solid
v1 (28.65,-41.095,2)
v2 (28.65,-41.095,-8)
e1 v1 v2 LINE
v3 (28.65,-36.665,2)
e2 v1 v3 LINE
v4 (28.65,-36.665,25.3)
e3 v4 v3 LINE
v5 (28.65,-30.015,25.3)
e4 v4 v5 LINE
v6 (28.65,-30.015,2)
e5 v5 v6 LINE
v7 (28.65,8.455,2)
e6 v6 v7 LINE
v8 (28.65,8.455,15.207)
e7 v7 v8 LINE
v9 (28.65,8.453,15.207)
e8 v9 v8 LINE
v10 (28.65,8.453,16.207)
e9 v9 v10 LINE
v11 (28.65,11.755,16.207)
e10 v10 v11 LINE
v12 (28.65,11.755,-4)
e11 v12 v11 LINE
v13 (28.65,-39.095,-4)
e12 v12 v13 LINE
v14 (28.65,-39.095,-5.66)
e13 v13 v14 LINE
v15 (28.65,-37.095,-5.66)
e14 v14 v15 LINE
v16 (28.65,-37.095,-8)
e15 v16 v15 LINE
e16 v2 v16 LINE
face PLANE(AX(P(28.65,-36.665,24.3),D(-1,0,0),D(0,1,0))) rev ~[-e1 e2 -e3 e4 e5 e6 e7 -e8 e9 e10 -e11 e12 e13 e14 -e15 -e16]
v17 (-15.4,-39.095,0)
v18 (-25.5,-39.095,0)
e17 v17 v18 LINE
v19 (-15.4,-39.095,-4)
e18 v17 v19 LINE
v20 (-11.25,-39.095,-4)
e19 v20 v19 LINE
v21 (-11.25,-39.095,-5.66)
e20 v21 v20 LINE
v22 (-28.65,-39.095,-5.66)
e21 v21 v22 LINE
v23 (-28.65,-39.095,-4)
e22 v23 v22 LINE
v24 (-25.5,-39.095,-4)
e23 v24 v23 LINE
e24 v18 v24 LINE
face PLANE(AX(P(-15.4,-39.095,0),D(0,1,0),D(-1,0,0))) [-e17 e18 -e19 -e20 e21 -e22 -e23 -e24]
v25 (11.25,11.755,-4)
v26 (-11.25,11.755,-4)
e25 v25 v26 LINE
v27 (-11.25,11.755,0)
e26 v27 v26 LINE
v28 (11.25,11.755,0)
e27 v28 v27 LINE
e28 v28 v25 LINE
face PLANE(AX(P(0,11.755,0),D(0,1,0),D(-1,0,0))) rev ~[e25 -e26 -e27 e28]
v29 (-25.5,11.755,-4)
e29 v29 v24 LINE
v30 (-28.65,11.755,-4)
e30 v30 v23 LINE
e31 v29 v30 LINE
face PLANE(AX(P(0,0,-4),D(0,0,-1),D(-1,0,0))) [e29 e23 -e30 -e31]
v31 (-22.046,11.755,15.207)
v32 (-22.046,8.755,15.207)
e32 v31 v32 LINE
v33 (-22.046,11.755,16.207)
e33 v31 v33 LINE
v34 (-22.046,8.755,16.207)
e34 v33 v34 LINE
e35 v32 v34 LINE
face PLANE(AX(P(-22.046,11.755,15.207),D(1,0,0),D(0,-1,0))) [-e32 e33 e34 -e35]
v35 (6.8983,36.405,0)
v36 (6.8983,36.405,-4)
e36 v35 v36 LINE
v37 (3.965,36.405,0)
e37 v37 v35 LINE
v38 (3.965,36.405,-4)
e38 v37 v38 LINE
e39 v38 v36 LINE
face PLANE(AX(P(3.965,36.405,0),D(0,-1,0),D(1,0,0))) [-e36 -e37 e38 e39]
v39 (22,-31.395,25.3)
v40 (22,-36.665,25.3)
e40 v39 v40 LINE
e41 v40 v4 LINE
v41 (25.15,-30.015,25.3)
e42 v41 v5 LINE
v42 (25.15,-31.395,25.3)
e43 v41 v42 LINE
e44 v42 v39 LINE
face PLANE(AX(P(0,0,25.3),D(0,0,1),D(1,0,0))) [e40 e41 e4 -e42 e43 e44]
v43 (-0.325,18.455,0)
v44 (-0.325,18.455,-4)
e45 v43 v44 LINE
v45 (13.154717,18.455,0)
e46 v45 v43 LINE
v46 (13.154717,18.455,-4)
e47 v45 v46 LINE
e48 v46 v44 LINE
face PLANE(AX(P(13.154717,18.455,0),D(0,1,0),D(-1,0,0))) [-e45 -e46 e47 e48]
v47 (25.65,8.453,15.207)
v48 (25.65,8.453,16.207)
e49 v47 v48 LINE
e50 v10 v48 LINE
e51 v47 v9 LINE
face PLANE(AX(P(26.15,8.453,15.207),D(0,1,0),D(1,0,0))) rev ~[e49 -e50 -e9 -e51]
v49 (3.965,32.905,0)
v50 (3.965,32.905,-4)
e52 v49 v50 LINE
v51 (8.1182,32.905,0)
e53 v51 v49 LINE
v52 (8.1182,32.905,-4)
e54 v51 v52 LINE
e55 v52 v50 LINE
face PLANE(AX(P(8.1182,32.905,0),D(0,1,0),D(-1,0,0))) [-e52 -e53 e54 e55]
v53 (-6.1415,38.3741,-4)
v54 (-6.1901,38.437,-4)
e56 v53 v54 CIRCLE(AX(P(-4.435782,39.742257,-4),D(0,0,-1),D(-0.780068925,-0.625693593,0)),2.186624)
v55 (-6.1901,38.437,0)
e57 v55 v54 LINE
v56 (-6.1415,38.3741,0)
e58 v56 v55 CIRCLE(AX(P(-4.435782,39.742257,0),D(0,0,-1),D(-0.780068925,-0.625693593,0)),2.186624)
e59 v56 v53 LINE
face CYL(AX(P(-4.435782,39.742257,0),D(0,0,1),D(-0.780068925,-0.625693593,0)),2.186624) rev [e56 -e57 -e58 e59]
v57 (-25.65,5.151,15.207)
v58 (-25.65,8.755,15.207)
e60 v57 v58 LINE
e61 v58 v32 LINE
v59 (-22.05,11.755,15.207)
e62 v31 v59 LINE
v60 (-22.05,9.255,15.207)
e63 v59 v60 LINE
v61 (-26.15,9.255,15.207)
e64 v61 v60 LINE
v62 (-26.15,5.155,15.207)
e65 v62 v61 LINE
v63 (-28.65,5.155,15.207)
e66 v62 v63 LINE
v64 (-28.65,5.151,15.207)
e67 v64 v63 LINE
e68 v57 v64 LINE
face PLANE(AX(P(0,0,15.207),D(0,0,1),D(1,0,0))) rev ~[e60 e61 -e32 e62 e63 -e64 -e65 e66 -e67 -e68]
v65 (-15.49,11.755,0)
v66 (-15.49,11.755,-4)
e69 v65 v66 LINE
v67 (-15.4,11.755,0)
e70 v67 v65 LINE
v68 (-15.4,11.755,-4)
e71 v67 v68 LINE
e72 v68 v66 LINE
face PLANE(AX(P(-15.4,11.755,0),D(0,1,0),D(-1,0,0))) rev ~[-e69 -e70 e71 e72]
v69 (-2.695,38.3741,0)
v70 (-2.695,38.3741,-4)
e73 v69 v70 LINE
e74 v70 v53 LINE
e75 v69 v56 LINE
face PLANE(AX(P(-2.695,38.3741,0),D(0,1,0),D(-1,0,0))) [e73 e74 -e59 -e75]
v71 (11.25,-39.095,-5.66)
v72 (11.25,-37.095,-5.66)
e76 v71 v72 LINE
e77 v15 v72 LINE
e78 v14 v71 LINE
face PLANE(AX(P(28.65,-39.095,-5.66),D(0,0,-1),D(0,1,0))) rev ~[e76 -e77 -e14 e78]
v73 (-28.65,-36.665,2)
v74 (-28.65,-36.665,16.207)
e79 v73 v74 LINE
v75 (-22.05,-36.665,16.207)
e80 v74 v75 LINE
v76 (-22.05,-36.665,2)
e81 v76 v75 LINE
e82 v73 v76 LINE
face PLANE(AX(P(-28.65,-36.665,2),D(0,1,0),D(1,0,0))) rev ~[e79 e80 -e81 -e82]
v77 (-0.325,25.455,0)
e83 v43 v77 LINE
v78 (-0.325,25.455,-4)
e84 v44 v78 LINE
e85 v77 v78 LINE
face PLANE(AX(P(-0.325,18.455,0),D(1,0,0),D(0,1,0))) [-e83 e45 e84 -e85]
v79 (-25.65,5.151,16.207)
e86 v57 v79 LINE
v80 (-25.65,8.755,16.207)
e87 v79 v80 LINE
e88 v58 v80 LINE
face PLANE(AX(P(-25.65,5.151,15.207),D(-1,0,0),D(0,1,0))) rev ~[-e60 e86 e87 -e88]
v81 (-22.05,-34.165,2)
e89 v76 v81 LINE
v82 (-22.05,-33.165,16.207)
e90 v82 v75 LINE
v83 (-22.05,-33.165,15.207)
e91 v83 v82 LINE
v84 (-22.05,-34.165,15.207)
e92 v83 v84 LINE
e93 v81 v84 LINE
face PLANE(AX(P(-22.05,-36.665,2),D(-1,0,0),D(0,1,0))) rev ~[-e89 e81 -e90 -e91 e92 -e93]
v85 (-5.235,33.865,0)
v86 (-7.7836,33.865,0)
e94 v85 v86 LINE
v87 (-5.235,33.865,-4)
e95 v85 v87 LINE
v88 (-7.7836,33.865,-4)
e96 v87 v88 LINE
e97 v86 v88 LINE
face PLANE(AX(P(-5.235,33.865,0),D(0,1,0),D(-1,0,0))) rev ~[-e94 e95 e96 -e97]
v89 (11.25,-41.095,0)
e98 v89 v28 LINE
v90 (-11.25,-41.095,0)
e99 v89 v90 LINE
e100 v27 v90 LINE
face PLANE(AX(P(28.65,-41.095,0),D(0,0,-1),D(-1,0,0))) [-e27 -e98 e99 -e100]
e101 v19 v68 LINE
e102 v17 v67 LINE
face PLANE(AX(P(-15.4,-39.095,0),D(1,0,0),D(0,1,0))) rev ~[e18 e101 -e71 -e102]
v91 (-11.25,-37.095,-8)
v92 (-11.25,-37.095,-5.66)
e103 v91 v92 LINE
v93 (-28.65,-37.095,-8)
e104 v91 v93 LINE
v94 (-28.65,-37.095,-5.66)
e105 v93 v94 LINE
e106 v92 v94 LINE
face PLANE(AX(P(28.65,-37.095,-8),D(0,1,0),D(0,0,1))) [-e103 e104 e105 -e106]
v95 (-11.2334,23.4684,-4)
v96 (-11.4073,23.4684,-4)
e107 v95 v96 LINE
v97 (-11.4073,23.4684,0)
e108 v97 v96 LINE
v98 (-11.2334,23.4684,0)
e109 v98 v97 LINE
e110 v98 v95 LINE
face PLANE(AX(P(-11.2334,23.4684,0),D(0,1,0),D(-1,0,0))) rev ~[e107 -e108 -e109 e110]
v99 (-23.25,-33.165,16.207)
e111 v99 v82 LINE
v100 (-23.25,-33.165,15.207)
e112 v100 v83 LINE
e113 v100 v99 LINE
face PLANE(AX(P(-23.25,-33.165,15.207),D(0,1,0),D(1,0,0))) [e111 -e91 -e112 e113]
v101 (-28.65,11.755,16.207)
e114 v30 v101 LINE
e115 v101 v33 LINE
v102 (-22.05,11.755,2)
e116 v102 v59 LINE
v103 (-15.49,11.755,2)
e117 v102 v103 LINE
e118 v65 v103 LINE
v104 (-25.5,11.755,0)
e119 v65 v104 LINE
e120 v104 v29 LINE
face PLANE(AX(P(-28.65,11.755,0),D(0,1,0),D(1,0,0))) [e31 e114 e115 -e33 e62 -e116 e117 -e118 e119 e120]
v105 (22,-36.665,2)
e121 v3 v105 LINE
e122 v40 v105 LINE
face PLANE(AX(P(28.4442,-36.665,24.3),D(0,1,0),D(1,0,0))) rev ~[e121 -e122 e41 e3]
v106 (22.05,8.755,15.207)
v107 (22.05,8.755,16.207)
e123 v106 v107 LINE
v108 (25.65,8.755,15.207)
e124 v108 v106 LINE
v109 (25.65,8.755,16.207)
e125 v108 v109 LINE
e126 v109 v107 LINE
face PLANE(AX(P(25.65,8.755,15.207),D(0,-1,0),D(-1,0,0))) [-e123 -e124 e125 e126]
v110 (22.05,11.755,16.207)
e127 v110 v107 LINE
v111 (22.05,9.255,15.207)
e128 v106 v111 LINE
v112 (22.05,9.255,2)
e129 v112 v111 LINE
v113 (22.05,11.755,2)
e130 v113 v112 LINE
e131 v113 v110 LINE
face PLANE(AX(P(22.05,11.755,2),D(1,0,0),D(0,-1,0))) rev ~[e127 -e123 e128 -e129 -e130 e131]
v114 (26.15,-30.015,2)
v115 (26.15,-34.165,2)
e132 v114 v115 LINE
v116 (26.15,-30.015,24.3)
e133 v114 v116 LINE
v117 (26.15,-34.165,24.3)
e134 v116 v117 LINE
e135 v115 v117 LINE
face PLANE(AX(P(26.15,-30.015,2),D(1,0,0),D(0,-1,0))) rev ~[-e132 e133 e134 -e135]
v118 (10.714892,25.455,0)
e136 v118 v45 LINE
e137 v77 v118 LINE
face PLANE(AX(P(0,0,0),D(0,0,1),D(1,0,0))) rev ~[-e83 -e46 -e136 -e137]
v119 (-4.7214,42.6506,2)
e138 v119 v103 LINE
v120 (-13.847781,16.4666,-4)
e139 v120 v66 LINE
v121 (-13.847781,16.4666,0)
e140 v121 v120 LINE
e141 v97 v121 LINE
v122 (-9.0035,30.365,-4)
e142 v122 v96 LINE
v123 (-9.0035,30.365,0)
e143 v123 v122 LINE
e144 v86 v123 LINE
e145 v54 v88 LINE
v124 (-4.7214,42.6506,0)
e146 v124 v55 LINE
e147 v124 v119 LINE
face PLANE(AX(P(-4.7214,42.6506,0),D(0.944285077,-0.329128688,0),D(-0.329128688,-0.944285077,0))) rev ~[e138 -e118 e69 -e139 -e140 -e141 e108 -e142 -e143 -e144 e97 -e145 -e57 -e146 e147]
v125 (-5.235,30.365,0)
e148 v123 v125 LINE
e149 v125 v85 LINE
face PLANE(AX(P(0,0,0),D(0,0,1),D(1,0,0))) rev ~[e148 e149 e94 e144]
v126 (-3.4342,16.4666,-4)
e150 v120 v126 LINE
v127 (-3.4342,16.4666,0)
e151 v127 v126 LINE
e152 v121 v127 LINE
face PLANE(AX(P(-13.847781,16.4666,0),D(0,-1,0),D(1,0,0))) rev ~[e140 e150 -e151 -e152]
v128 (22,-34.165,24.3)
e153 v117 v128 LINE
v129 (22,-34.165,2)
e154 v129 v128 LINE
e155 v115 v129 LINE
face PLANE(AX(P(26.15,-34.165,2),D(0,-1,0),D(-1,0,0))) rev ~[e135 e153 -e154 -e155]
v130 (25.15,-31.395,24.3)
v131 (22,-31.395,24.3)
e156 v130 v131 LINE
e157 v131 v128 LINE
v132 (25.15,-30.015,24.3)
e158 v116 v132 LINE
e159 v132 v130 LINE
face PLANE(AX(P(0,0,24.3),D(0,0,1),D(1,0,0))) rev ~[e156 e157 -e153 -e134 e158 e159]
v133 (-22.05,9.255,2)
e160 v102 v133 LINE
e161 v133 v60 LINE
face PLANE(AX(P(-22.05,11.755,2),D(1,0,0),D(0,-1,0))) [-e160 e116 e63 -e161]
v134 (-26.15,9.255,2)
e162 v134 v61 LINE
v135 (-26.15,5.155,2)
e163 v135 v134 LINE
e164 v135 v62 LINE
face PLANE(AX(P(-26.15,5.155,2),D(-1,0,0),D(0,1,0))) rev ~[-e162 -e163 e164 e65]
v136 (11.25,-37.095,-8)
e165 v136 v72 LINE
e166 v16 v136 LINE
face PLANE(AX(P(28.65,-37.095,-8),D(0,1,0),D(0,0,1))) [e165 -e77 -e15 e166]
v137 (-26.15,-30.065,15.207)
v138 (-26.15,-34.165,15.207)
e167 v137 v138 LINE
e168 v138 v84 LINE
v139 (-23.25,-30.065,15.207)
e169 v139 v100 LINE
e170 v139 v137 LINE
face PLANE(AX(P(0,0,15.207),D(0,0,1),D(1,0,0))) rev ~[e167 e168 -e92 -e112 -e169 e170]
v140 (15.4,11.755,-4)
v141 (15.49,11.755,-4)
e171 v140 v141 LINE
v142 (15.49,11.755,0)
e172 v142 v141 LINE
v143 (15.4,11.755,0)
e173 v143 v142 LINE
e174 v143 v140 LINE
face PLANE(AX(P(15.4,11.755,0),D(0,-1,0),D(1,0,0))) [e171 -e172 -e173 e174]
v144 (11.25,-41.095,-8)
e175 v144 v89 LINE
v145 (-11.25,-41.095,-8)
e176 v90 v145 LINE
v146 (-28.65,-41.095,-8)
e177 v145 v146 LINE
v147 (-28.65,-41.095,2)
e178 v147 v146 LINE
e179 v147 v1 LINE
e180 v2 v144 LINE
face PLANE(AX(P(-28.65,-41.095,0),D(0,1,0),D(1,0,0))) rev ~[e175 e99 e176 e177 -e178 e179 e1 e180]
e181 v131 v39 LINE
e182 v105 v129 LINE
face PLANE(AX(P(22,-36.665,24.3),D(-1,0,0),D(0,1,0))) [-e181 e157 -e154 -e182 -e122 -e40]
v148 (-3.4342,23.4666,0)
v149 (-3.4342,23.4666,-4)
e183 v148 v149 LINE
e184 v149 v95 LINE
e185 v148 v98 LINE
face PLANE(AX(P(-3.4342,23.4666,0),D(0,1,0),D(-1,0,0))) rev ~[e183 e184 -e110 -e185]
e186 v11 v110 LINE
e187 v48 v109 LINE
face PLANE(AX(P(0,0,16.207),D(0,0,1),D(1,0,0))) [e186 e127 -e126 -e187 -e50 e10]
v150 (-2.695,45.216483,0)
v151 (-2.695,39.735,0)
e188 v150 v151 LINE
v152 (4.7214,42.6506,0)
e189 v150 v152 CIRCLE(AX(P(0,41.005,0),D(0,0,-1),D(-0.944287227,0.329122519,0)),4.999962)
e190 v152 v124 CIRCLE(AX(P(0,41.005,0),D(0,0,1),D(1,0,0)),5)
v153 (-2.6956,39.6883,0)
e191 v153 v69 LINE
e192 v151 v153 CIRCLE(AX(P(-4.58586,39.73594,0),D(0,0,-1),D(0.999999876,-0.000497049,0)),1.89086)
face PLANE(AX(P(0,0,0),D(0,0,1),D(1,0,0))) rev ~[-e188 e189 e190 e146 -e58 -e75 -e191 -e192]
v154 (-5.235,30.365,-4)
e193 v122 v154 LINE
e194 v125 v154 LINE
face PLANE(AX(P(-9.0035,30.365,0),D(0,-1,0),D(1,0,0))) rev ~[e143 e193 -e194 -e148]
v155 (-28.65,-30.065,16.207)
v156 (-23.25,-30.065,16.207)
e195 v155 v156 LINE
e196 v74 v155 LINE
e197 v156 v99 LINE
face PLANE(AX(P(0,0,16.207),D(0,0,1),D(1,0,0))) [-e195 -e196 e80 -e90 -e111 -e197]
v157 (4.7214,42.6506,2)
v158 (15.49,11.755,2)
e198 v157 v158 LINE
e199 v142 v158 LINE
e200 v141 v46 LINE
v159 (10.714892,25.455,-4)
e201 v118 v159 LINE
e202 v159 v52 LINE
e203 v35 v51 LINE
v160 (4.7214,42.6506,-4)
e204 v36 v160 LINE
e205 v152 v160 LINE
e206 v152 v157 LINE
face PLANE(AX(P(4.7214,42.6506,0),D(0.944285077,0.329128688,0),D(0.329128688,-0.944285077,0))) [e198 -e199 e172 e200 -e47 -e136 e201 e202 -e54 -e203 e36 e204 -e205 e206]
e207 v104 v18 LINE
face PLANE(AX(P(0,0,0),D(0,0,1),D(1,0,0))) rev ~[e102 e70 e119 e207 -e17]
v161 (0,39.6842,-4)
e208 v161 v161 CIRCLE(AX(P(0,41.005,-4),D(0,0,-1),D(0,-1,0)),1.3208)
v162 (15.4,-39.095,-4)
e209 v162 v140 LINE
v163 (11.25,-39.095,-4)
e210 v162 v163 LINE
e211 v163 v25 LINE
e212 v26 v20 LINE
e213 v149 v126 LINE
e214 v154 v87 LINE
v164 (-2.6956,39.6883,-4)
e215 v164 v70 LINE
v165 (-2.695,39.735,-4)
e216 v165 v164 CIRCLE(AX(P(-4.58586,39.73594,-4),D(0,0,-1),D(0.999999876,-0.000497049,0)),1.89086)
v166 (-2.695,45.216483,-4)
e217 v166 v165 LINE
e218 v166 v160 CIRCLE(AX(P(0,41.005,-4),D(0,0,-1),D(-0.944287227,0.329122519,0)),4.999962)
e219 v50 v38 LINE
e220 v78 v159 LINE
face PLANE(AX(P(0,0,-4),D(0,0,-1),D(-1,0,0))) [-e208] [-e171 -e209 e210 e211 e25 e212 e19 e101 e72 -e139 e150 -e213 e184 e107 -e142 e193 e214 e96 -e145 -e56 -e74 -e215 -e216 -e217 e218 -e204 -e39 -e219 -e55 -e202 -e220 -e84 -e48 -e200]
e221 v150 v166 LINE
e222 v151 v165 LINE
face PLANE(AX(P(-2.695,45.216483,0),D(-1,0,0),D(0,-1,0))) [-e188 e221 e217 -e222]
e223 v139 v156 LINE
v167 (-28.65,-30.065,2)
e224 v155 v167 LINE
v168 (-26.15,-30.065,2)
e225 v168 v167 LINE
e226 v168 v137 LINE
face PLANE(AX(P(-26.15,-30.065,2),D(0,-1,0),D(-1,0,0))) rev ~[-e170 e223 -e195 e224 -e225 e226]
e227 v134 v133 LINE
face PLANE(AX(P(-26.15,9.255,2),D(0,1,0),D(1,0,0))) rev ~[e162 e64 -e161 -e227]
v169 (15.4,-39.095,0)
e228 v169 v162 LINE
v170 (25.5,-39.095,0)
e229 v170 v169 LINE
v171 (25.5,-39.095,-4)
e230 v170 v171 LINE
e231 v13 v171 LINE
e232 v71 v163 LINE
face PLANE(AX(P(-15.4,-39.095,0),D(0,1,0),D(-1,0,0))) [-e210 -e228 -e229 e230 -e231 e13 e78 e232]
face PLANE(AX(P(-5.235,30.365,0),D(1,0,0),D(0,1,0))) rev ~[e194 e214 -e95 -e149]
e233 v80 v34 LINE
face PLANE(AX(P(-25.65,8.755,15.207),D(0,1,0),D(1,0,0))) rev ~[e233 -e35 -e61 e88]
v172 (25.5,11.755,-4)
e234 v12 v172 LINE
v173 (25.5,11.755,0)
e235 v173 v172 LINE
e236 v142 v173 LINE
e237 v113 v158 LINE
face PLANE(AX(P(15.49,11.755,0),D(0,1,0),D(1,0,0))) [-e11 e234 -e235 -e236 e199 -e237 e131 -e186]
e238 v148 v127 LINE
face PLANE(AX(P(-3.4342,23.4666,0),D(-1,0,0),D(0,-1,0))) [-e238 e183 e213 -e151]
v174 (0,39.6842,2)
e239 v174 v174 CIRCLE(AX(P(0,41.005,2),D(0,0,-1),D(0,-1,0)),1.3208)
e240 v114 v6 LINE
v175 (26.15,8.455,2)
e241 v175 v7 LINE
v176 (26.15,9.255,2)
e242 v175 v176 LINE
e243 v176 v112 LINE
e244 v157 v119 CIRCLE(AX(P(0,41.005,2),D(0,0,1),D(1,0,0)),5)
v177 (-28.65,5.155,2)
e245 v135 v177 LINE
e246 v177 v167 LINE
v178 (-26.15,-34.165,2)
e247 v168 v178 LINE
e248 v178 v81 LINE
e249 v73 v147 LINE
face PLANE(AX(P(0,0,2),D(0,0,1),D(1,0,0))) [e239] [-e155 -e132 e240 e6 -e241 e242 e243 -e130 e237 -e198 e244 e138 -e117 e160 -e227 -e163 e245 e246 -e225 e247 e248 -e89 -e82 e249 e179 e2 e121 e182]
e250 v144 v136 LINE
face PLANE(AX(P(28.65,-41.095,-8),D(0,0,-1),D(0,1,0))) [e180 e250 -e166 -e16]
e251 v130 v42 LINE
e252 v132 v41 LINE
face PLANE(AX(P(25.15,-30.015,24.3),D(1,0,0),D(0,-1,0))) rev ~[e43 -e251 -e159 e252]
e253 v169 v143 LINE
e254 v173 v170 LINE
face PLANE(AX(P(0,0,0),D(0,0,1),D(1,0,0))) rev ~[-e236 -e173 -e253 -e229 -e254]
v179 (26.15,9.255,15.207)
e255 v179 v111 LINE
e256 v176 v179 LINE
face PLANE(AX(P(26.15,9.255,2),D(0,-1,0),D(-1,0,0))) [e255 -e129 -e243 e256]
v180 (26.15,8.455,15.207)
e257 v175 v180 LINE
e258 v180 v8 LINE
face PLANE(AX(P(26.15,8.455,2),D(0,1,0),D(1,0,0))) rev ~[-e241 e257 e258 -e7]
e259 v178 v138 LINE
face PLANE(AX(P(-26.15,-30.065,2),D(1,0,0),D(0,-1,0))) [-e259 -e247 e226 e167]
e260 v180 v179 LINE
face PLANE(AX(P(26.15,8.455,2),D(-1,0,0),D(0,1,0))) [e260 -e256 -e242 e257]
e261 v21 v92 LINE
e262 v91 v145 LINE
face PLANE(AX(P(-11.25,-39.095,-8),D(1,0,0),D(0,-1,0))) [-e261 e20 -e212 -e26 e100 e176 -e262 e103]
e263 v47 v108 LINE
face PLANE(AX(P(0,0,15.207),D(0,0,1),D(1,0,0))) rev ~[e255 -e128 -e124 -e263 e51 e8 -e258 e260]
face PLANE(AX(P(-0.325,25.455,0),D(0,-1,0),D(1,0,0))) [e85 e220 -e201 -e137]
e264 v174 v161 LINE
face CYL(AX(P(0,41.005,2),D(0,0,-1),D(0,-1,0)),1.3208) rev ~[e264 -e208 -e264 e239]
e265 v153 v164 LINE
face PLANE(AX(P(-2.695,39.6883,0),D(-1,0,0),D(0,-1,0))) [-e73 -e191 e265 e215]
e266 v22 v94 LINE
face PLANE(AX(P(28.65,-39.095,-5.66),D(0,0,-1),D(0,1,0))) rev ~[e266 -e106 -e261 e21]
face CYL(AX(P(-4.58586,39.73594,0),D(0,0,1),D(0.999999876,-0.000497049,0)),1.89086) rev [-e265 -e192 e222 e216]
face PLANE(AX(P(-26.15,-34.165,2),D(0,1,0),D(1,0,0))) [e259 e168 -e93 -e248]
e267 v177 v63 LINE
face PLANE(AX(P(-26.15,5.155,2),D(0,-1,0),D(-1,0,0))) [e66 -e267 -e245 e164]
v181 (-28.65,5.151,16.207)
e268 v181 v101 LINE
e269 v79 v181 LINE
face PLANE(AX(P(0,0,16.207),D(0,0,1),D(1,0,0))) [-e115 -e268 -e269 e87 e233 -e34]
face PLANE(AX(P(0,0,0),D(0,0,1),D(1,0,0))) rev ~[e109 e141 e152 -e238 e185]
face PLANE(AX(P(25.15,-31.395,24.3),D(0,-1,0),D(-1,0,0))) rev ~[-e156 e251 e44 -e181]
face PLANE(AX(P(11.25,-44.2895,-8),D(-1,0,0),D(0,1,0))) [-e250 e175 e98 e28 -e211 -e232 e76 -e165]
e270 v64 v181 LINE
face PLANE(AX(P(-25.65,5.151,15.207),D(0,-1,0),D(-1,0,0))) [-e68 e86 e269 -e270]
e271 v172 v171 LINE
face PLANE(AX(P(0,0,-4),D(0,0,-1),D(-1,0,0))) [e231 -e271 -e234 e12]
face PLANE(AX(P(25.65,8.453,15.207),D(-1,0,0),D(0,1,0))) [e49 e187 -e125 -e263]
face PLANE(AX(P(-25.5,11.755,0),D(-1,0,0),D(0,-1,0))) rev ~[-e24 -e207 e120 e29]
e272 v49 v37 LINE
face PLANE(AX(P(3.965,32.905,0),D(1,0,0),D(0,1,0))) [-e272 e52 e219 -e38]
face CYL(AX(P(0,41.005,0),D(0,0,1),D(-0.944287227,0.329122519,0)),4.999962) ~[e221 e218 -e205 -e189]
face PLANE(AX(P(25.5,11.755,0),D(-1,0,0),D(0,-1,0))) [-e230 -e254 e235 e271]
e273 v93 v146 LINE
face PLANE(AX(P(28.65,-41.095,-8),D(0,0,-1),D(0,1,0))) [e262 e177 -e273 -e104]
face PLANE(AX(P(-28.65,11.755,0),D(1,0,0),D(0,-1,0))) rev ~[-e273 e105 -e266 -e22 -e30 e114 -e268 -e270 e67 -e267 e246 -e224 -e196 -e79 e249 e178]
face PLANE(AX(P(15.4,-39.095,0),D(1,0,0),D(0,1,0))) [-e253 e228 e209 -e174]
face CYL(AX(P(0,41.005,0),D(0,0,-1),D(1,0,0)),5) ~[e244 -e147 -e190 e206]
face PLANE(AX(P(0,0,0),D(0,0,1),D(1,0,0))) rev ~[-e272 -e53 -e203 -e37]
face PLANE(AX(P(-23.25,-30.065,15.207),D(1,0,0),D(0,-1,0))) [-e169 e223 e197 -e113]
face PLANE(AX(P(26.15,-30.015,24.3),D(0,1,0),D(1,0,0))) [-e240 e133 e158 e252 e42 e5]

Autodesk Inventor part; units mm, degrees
ref_plane "YZ Plane" through (0, 0, 0) normal (1, 0, 0) x (0, 1, 0)
ref_plane "XZ Plane" through (0, 0, 0) normal (0, 1, 0) x (-1, 0, 0)
ref_plane "XY Plane" through (0, 0, 0) normal (0, 0, 1) x (1, 0, 0)
sketch "Sketch1" plane through (0, 0, 0) normal (0, 0, 1) x (1, 0, 0)
  line L0 (-28.65, -41.095) -> (28.65, -41.095)
  line L1 (28.65, -41.095) -> (28.65, 11.845)
  line L2 (-28.65, 11.755) -> (-28.65, -41.095)
  line L3 (-28.65, -41.095) -> (28.65, 41.095) construction
  line L4 (28.65, -41.095) -> (-28.65, 41.095) construction
  circle A0 centre (0, 41.005) radius 5
  line L5 (-8.6158, 11.755) -> (12.08, 11.755)
  line L6 (12.08, 11.755) -> (27.305, 11.755)
  line L7 (-8.6158, 11.755) -> (-27.305, 11.755)
  line L8 (-4.7214, 42.6506) -> (-15.49, 11.755)
  line L9 (4.7214, 42.6506) -> (15.49, 11.755)
  line L10 (28.65, -41.095) -> (-28.65, -41.095)
  line L11 (-28.65, -41.095) -> (-28.65, 11.755)
  line L12 (-28.65, 11.755) -> (28.65, 11.755)
  line L13 (28.65, 11.755) -> (28.65, -41.095)
  point P0 (0, 0)
  point P1 (15.49, 11.755)
  point P2 (28.65, -14.625)
  point P3 (28.65, 11.755)
  dimension "d2" = 10
  dimension "d3" = 29.25
  dimension "d26" = 30.98
  dimension "d27" = 15.49
  dimension "d28" = 0
  dimension "d112" = 57.3
  dimension "d113" = 28.65
  dimension "d114" = 82.1
extrude "Extrusion1" add sketch "Sketch1" along normal blind 2
sketch "Sketch2" plane through (0, 0, 0) normal (0, 0, -1) x (-1, 0, 0)
  arc A0 (4.7214, 42.6506) -> (-4.7214, 42.6506) centre (0, 41.005) ccw projected
  line L0 (28.65, -41.095) -> (-28.65, -41.095) projected
  line L1 (-25.5, -41.095) -> (-15.4, -41.095)
  line L2 (-15.4, -41.095) -> (-15.4, 11.755)
  line L3 (-15.4, 11.755) -> (-25.5, 11.755)
  line L4 (-25.5, 11.755) -> (-25.5, -41.095)
  line L5 (-11.25, -41.095) -> (0, -41.095)
  line L6 (0, -41.095) -> (0, 11.755)
  line L7 (0, 11.755) -> (-11.25, 11.755)
  line L8 (-11.25, 11.755) -> (-11.25, -41.095)
  line L9 (-28.65, -41.095) -> (28.65, -41.095)
  line L10 (15.4, -41.095) -> (15.4, 11.755)
  line L11 (15.4, 11.755) -> (25.5, 11.755)
  line L12 (25.5, 11.755) -> (25.5, -41.095)
  line L13 (0, 11.755) -> (11.25, 11.755)
  line L14 (11.25, 11.755) -> (11.25, -41.095)
  line L15 (0.325, 18.455) -> (0.325, 25.455)
  line L16 (3.4342, 23.4666) -> (3.4342, 16.3794)
  line L17 (-8.1182, 32.905) -> (-3.965, 32.905)
  line L18 (-3.965, 32.905) -> (-3.965, 36.405)
  line L19 (-3.965, 36.405) -> (-6.8983, 36.405)
  line L20 (-9.0424, 34.1387) -> (-3.965, 36.405) construction
  line L21 (-3.965, 32.905) -> (-8.76, 36.4299) construction
  line L22 (2.695, 38.3741) -> (6.212, 38.3741)
  line L23 (2.695, 38.3741) -> (6.195, 41.0959) construction
  line L24 (9.0035, 30.365) -> (5.235, 30.365)
  line L25 (5.235, 30.365) -> (5.235, 33.865)
  line L26 (5.235, 33.865) -> (7.7836, 33.865)
  line L27 (10.412, 31.3708) -> (5.235, 33.865) construction
  line L28 (5.235, 30.365) -> (10.1967, 33.5777) construction
  line L29 (11.2334, 23.4684) -> (11.4073, 23.4684)
  line L30 (-27.305, 11.755) -> (-15.49, 11.755)
  line L31 (28.65, -41.095) -> (-28.65, -41.095)
  line L32 (-27.305, 11.755) -> (28.65, 11.755)
  line L33 (28.65, 11.755) -> (28.65, -41.095)
  line L34 (-15.49, 11.755) -> (-4.7214, 42.6506) projected
  line L35 (4.7214, 42.6506) -> (15.49, 11.755) projected
  line L36 (-15.49, 11.755) -> (-13.0996, 18.6131)
  line L37 (15.49, 11.755) -> (13.9048, 16.3032)
  line L38 (11.4073, 23.4684) -> (8.8839, 30.7082)
  line L39 (8.3097, 32.3558) -> (8.298, 32.3893)
  line L40 (7.732, 34.0131) -> (6.1901, 38.437)
  line L41 (5.1818, 41.3299) -> (4.7214, 42.6506)
  line L42 (-10.6022, 25.7784) -> (-7.4388, 34.8545)
  line L43 (-7.2711, 35.3354) -> (-4.7214, 42.6506)
  arc A1 (6.1415, 38.3741) -> (6.1901, 38.437) centre (4.445, 39.735) ccw
  arc A2 (2.695, 39.735) -> (2.6956, 39.6883) centre (4.445, 39.735) ccw
  arc A3 (4.7214, 42.6506) -> (-4.7214, 42.6506) centre (0, 41.005) ccw
  arc A4 (2.695, 39.6871) -> (2.6956, 39.6883) centre (0, 41.005) ccw
  line L44 (-27.305, 11.755) -> (-15.49, 11.755)
  line L45 (-28.65, -39.095) -> (28.65, -39.095)
  line L46 (-25.5, 11.755) -> (-28.65, 11.755)
  line L47 (-28.65, 11.755) -> (-28.65, -39.095)
  line L48 (-28.65, -39.095) -> (-25.5, -39.095)
  line L49 (-25.5, -39.095) -> (-25.5, 11.755)
  line L50 (-28.65, -39.095) -> (-28.65, -41.095)
  line L51 (2.695, 38.3741) -> (6.195, 38.3741)
  line L52 (6.195, 38.3741) -> (6.195, 47.1002)
  line L53 (6.195, 47.1002) -> (2.695, 47.1002)
  line L54 (2.695, 47.1002) -> (2.695, 38.3741)
  line L55 (3.4342, 23.4666) -> (15.1988, 23.4666)
  line L56 (15.1988, 23.4666) -> (15.1988, 16.4666)
  line L57 (15.1988, 16.4666) -> (3.4342, 16.4666)
  line L58 (3.4342, 16.4666) -> (3.4342, 23.4666)
  line L59 (0.325, 25.455) -> (-14.4798, 25.455)
  line L60 (-14.4798, 25.455) -> (-14.4798, 18.455)
  line L61 (-14.4798, 18.455) -> (0.325, 18.455)
  line L62 (0.325, 18.455) -> (0.325, 25.455)
  point P0 (0, 0)
  point P1 (4.9516, 41.9903)
  point P2 (5.235, 32.115)
  point P3 (-3.965, 34.655)
  point P4 (2.695, 44.9696)
  point P5 (0.325, 21.955)
  point P6 (3.4342, 19.923)
  point P7 (11.25, -41.095)
  point P8 (15.4, -41.095)
  point P9 (25.5, -41.095)
  point P10 (28.65, -41.095)
  point P11 (9.0035, 30.365)
  point P12 (6.212, 38.3741)
  point P13 (-25.5, -41.095)
  point P14 (-15.4, 11.755)
  point P15 (15.49, 11.755)
  point P16 (-15.4, 11.755)
  point P17 (-15.4, -41.095)
  point P18 (-11.25, -41.095)
  point P19 (6.1901, 38.437)
  point P20 (2.6952, 39.7117)
  point P21 (-15.4, -39.095)
  point P22 (-25.5, -39.095)
  point P23 (25.5, -39.095)
  point P24 (15.4, -39.095)
  point P25 (-11.25, -39.095)
  point P26 (11.25, -39.095)
  point P27 (6.9533, 34.0365)
  point P28 (2.695, 39.735)
  point P29 (2.695, 45.2165)
  point P30 (-10.7149, 25.455)
  point P31 (-13.1547, 18.455)
  point P32 (13.8478, 16.4666)
  point P33 (3.4342, 16.4666)
  point P34 (10.829, 23.4666)
  point P35 (11.408, 23.4666)
  point P36 (4.445, 38.3741)
  dimension "d22" = 25.5
  dimension "d23" = 15.4
  dimension "d24" = 11.25
  dimension "d25" = 11.25
  dimension "d38" = 19.05
  dimension "d44" = 3.965
  dimension "d45" = 5.235
  dimension "d46" = 0.325
  dimension "d47" = 3.4342
  dimension "d48" = 21.082
  dimension "d49" = 8.89
  dimension "d50" = 6.35
  dimension "d51" = 2
  dimension "d138" = 7
  dimension "d139" = 7
  dimension "d140" = 3.5
  dimension "d141" = 3.5
  dimension "d142" = 3.5
  dimension "d143" = 4.445
  dimension "d144" = 1.27
extrude "Extrusion2" add sketch "Sketch2" along normal blind 4 contours L54 A4 L22 L35 L26 L25 L24 L29 L55 L16 L57 L11 L32 L13 L7 L3 L34 L61 L15 L59 L17 L18 L19 A0 | L54 A2 A4 | L35 L52 L22 A1 | L35 L22 L52 | L32 L8 L45 L2 | L4 L45 L47 L46 L30 | L45 L8 L0 L2 | L2 L0 L4 L45 | L4 L0 L50 L45 | L45 L6 L0 L8 | L10 L45 L14 L32 | L32 L33 L45 L12 | L45 L14 L0 L6 | L45 L12 L0 L10 | L10 L0 L14 L45 | L45 L33 L0 L12 picked at (-0.9552, 41.2924)
sketch "Sketch3" plane through (0, 0, 2) normal (0, 0, 1) x (1, 0, 0)
  line L0 (-15.49, 11.755) -> (-28.65, 11.755)
  line L1 (28.65, -41.095) -> (28.65, 11.755) projected
  line L2 (-28.65, 11.755) -> (28.65, 11.755)
  line L3 (28.65, 11.755) -> (28.65, -41.095)
  line L4 (37.294, -28.9953) -> (-37.344, 8.455) construction
  line L5 (20.655, -45.4719) -> (-20.705, 24.9315) construction
  line L6 (-28.65, 11.755) -> (-22.05, 11.755)
  line L7 (-22.05, 11.755) -> (-22.05, 5.155)
  line L8 (-22.05, 5.155) -> (-28.65, 5.155)
  line L9 (-28.65, 5.155) -> (-28.65, 11.755)
  line L10 (28.65, 11.755) -> (22.05, 11.755)
  line L11 (22.05, 11.755) -> (22.05, 8.455)
  line L12 (22.05, 8.455) -> (28.65, 8.455)
  line L13 (28.65, 8.455) -> (28.65, 11.755)
  line L14 (-22.05, 5.155) -> (-26.15, 5.155)
  line L15 (-26.15, 5.155) -> (-26.15, 9.255)
  line L16 (-26.15, 9.255) -> (-22.05, 9.255)
  line L17 (-22.05, 9.255) -> (-22.05, 5.155)
  line L18 (22.05, 8.455) -> (26.15, 8.455)
  line L19 (26.15, 8.455) -> (26.15, 9.255)
  line L20 (26.15, 9.255) -> (22.05, 9.255)
  line L21 (22.05, 9.255) -> (22.05, 8.455)
  line L22 (22.05, 8.455) -> (25.65, 8.455)
  line L23 (22.05, 8.755) -> (22.05, 8.455)
  line L24 (-28.65, 11.755) -> (-28.65, -41.095) projected
  line L25 (-28.65, -36.665) -> (-22.05, -36.665)
  line L26 (-22.05, -36.665) -> (-22.05, -30.065)
  line L27 (-22.05, -30.065) -> (-28.65, -30.065)
  line L28 (-28.65, -30.065) -> (-28.65, -36.665)
  line L29 (-22.05, -30.065) -> (-26.15, -30.065)
  line L30 (-26.15, -30.065) -> (-26.15, -34.165)
  line L31 (-26.15, -34.165) -> (-22.05, -34.165)
  line L32 (-22.05, -34.165) -> (-22.05, -30.065)
  point P0 (0, 0)
  point P1 (27.305, 11.755)
  point P2 (-22.07, 11.755)
  point P3 (24.305, 8.605)
  point P4 (28.65, 8.455)
  point P5 (27.305, 11.755)
  point P6 (22.05, 11.755)
  point P7 (-22.05, 11.755)
  point P8 (-24.1, 9.255)
  point P9 (-28.65, -30.065)
  dimension "d58" = 6.6
  dimension "d59" = 6.6
  dimension "d60" = 6.6
  dimension "d61" = 3.3
  dimension "d63" = 2.5
  dimension "d69" = 2.5
  dimension "d70" = 2.5
  dimension "d100" = 6.6
  dimension "d101" = 6.6
  dimension "d102" = 2.5
  dimension "d103" = 2.5
  dimension "d104" = 43.42
  dimension "d115" = 2.5
extrude "Extrusion3" add sketch "Sketch3" along normal blind 13.207 contours L27 L30 L31 L26 L25 L24 | L7 L16 L15 L8 L9 L0 | L2 L1 L12 L19 L20 L11
sketch "Sketch4" plane through (0, 0, 2) normal (0, 0, 1) x (1, 0, 0)
  line L0 (28.65, -41.095) -> (28.65, 8.455) projected
  line L1 (28.65, -36.665) -> (22, -36.665)
  line L2 (22, -36.665) -> (22, -30.015)
  line L3 (22, -30.015) -> (28.65, -30.015)
  line L4 (28.65, -30.015) -> (28.65, -41.095)
  line L5 (22, -30.015) -> (26.15, -30.015)
  line L6 (26.15, -30.015) -> (26.15, -34.165)
  line L7 (26.15, -34.165) -> (22, -34.165)
  line L8 (22, -34.165) -> (22, -30.015)
  point P0 (0, 0)
  point P1 (25.325, -36.665)
  point P2 (22.05, 9.255)
  point P3 (28.65, -36.665)
  dimension "d75" = 6.65
  dimension "d76" = 6.65
  dimension "d77" = 2.5
  dimension "d78" = 2.5
  dimension "d97" = 43.42
extrude "Extrusion4" add sketch "Sketch4" along normal blind 22.3 contours L1 L2 L7 L6 L3 L0
sketch "Sketch5" plane through (0, 0, 15.207) normal (0, 0, 1) x (1, 0, 0)
  line L0 (-28.65, 11.755) -> (-25.5, 11.755)
  line L1 (-28.65, 11.755) -> (-22.046, 11.755)
  line L2 (-22.046, 11.755) -> (-22.046, 5.151)
  line L3 (-22.046, 5.151) -> (-28.65, 5.151)
  line L4 (-28.65, 5.151) -> (-28.65, 11.755)
  line L5 (-22.046, 5.151) -> (-25.65, 5.151)
  line L6 (-25.65, 5.151) -> (-25.65, 8.755)
  line L7 (-25.65, 8.755) -> (-22.046, 8.755)
  line L8 (-22.046, 8.755) -> (-22.046, 5.151)
  line L9 (-26.15, 9.255) -> (-22.05, 9.255)
  line L10 (-26.15, 5.155) -> (-26.15, 9.255)
  line L11 (28.65, 11.755) -> (22.05, 11.755)
  line L12 (22.05, 11.755) -> (22.05, 8.453)
  line L13 (22.05, 8.453) -> (28.65, 8.453)
  line L14 (28.65, 8.453) -> (28.65, 11.755)
  line L15 (22.05, 8.453) -> (25.65, 8.453)
  line L16 (25.65, 8.453) -> (25.65, 8.755)
  line L17 (25.65, 8.755) -> (22.05, 8.755)
  line L18 (22.05, 8.755) -> (22.05, 8.453)
  line L19 (22.05, 9.255) -> (26.15, 9.255)
  line L20 (26.15, 9.255) -> (26.15, 8.455)
  line L21 (-28.65, -30.065) -> (-26.15, -30.065)
  line L22 (-28.65, -36.665) -> (-22.05, -36.665) projected
  line L23 (-28.65, -30.065) -> (-22.05, -30.065)
  line L24 (-22.05, -30.065) -> (-22.05, -36.665)
  line L25 (-22.05, -36.665) -> (-28.65, -36.665)
  line L26 (-28.65, -36.665) -> (-28.65, -30.065)
  line L27 (-22.05, -30.065) -> (-23.25, -30.065)
  line L28 (-23.25, -30.065) -> (-23.25, -33.165)
  line L29 (-23.25, -33.165) -> (-22.05, -33.165)
  line L30 (-22.05, -33.165) -> (-22.05, -30.065)
  line L31 (-28.65, -36.665) -> (-22.05, -36.665)
  point P0 (0, 0)
  point P1 (-26.15, 7.205)
  dimension "d81" = 6.604
  dimension "d82" = 6.604
  dimension "d83" = 0.5
  dimension "d84" = 0.5
  dimension "d87" = 0.5
  dimension "d88" = 0.5
  dimension "d105" = 3.5
  dimension "d106" = 5.4
extrude "Extrusion5" add sketch "Sketch5" along normal blind 1 contours L0 L1 L2 L7 L6 L3 L4 | L14 L13 L20 L19 L12 L11 | L19 L20 L13 L16 L17 L12 | L21 L23 L28 L29 L24 L22 L26
sketch "Sketch6" plane through (0, 0, 24.3) normal (0, 0, 1) x (1, 0, 0)
  line L0 (26.15, -30.015) -> (28.65, -30.015) projected
  line L1 (22, -36.665) -> (22, -34.165) projected
  line L2 (28.65, -30.015) -> (22, -30.015)
  line L3 (21.7942, -36.665) -> (28.4442, -36.665)
  line L4 (28.65, -41.005) -> (28.65, -30.015)
  line L5 (22, -30.015) -> (25.15, -30.015)
  line L6 (25.15, -30.015) -> (25.15, -31.395)
  line L7 (25.15, -31.395) -> (22, -31.395)
  line L8 (22, -31.395) -> (22, -30.015)
  line L9 (22, -36.665) -> (28.65, -36.665) projected
  line L10 (22, -31.395) -> (22, -36.665)
  point P0 (0, 0)
  point P1 (20.655, -31.395)
  point P2 (23.805, -30.015)
  dimension "d93" = 5.27
  dimension "d94" = 3.5
extrude "Extrusion6" add sketch "Sketch6" along normal blind 1 contours L0 L4 L9 L3 L1 L10 L7 L6 L2
sketch "Sketch9" plane through (28.65, -41.095, -4) normal (1, 0, 0) x (0, 0, -1)
  line L0 (0, 0) -> (-6, 0) projected
  line L1 (0, 0) -> (4, 0)
  line L2 (4, 0) -> (4, 4)
  line L3 (4, 4) -> (0, 4)
  line L4 (0, 4) -> (0, 0)
  line L5 (0, 2) -> (4, 2)
  line L6 (4, 2) -> (4, 0)
  line L7 (4, 0) -> (0, 0)
  line L8 (0, 0) -> (0, 2)
  line L9 (4, 2) -> (1.66, 2)
  line L10 (1.66, 2) -> (1.66, 4)
  line L11 (1.66, 4) -> (4, 4)
  line L12 (4, 4) -> (4, 2)
  point P0 (-4, 41.095)
  point P1 (1.66, 2)
  dimension "d116" = 1.66
  dimension "d118" = 4
  dimension "d119" = 2
extrude "Extrusion8" add sketch "Sketch9" against normal up to surface (57.3 mm away) contours L4 L5 L2 L1 | L5 L10 L3 L2
sketch "Sketch11" plane through (0, 0, 2) normal (0, 0, 1) x (1, 0, 0)
  arc A0 (4.7214, 42.6506) -> (-4.7214, 42.6506) centre (0, 41.005) ccw projected
  point P0 (0, 0)
hole "Hole1" at (0, 41.005, 2) direction (0, 0, -1) diameter 2.6416 depth 10.979 thread size "6-32 UNC" class "2B" standard "ANSI Unified Screw Threads"
sketch "Sketch15" plane through (28.65, -41.095, -8) normal (0, 0, -1) x (-1, 0, 0)
  line L0 (17.4, 2) -> (17.4, 52.85) projected
  line L1 (39.9, 2) -> (39.9, 52.85) projected
  line L2 (39.9, 2) -> (39.9, 24.2039)
  line L3 (39.9, 24.2039) -> (17.4, 24.2039)
  line L4 (17.4, 24.2039) -> (17.4, 2)
  line L5 (39.9, 2) -> (39.9, -3.1945)
  line L6 (39.9, -3.1945) -> (17.4, -3.1945)
  line L7 (17.4, -3.1945) -> (17.4, 2)
  point P0 (28.65, 41.095)
  point P1 (17.4, 24.2039)
extrude "Extrusion13" cut sketch "Sketch15" against normal up to surface (8 mm away)
properties part number "SEN5X_Mount_3DPrint"
